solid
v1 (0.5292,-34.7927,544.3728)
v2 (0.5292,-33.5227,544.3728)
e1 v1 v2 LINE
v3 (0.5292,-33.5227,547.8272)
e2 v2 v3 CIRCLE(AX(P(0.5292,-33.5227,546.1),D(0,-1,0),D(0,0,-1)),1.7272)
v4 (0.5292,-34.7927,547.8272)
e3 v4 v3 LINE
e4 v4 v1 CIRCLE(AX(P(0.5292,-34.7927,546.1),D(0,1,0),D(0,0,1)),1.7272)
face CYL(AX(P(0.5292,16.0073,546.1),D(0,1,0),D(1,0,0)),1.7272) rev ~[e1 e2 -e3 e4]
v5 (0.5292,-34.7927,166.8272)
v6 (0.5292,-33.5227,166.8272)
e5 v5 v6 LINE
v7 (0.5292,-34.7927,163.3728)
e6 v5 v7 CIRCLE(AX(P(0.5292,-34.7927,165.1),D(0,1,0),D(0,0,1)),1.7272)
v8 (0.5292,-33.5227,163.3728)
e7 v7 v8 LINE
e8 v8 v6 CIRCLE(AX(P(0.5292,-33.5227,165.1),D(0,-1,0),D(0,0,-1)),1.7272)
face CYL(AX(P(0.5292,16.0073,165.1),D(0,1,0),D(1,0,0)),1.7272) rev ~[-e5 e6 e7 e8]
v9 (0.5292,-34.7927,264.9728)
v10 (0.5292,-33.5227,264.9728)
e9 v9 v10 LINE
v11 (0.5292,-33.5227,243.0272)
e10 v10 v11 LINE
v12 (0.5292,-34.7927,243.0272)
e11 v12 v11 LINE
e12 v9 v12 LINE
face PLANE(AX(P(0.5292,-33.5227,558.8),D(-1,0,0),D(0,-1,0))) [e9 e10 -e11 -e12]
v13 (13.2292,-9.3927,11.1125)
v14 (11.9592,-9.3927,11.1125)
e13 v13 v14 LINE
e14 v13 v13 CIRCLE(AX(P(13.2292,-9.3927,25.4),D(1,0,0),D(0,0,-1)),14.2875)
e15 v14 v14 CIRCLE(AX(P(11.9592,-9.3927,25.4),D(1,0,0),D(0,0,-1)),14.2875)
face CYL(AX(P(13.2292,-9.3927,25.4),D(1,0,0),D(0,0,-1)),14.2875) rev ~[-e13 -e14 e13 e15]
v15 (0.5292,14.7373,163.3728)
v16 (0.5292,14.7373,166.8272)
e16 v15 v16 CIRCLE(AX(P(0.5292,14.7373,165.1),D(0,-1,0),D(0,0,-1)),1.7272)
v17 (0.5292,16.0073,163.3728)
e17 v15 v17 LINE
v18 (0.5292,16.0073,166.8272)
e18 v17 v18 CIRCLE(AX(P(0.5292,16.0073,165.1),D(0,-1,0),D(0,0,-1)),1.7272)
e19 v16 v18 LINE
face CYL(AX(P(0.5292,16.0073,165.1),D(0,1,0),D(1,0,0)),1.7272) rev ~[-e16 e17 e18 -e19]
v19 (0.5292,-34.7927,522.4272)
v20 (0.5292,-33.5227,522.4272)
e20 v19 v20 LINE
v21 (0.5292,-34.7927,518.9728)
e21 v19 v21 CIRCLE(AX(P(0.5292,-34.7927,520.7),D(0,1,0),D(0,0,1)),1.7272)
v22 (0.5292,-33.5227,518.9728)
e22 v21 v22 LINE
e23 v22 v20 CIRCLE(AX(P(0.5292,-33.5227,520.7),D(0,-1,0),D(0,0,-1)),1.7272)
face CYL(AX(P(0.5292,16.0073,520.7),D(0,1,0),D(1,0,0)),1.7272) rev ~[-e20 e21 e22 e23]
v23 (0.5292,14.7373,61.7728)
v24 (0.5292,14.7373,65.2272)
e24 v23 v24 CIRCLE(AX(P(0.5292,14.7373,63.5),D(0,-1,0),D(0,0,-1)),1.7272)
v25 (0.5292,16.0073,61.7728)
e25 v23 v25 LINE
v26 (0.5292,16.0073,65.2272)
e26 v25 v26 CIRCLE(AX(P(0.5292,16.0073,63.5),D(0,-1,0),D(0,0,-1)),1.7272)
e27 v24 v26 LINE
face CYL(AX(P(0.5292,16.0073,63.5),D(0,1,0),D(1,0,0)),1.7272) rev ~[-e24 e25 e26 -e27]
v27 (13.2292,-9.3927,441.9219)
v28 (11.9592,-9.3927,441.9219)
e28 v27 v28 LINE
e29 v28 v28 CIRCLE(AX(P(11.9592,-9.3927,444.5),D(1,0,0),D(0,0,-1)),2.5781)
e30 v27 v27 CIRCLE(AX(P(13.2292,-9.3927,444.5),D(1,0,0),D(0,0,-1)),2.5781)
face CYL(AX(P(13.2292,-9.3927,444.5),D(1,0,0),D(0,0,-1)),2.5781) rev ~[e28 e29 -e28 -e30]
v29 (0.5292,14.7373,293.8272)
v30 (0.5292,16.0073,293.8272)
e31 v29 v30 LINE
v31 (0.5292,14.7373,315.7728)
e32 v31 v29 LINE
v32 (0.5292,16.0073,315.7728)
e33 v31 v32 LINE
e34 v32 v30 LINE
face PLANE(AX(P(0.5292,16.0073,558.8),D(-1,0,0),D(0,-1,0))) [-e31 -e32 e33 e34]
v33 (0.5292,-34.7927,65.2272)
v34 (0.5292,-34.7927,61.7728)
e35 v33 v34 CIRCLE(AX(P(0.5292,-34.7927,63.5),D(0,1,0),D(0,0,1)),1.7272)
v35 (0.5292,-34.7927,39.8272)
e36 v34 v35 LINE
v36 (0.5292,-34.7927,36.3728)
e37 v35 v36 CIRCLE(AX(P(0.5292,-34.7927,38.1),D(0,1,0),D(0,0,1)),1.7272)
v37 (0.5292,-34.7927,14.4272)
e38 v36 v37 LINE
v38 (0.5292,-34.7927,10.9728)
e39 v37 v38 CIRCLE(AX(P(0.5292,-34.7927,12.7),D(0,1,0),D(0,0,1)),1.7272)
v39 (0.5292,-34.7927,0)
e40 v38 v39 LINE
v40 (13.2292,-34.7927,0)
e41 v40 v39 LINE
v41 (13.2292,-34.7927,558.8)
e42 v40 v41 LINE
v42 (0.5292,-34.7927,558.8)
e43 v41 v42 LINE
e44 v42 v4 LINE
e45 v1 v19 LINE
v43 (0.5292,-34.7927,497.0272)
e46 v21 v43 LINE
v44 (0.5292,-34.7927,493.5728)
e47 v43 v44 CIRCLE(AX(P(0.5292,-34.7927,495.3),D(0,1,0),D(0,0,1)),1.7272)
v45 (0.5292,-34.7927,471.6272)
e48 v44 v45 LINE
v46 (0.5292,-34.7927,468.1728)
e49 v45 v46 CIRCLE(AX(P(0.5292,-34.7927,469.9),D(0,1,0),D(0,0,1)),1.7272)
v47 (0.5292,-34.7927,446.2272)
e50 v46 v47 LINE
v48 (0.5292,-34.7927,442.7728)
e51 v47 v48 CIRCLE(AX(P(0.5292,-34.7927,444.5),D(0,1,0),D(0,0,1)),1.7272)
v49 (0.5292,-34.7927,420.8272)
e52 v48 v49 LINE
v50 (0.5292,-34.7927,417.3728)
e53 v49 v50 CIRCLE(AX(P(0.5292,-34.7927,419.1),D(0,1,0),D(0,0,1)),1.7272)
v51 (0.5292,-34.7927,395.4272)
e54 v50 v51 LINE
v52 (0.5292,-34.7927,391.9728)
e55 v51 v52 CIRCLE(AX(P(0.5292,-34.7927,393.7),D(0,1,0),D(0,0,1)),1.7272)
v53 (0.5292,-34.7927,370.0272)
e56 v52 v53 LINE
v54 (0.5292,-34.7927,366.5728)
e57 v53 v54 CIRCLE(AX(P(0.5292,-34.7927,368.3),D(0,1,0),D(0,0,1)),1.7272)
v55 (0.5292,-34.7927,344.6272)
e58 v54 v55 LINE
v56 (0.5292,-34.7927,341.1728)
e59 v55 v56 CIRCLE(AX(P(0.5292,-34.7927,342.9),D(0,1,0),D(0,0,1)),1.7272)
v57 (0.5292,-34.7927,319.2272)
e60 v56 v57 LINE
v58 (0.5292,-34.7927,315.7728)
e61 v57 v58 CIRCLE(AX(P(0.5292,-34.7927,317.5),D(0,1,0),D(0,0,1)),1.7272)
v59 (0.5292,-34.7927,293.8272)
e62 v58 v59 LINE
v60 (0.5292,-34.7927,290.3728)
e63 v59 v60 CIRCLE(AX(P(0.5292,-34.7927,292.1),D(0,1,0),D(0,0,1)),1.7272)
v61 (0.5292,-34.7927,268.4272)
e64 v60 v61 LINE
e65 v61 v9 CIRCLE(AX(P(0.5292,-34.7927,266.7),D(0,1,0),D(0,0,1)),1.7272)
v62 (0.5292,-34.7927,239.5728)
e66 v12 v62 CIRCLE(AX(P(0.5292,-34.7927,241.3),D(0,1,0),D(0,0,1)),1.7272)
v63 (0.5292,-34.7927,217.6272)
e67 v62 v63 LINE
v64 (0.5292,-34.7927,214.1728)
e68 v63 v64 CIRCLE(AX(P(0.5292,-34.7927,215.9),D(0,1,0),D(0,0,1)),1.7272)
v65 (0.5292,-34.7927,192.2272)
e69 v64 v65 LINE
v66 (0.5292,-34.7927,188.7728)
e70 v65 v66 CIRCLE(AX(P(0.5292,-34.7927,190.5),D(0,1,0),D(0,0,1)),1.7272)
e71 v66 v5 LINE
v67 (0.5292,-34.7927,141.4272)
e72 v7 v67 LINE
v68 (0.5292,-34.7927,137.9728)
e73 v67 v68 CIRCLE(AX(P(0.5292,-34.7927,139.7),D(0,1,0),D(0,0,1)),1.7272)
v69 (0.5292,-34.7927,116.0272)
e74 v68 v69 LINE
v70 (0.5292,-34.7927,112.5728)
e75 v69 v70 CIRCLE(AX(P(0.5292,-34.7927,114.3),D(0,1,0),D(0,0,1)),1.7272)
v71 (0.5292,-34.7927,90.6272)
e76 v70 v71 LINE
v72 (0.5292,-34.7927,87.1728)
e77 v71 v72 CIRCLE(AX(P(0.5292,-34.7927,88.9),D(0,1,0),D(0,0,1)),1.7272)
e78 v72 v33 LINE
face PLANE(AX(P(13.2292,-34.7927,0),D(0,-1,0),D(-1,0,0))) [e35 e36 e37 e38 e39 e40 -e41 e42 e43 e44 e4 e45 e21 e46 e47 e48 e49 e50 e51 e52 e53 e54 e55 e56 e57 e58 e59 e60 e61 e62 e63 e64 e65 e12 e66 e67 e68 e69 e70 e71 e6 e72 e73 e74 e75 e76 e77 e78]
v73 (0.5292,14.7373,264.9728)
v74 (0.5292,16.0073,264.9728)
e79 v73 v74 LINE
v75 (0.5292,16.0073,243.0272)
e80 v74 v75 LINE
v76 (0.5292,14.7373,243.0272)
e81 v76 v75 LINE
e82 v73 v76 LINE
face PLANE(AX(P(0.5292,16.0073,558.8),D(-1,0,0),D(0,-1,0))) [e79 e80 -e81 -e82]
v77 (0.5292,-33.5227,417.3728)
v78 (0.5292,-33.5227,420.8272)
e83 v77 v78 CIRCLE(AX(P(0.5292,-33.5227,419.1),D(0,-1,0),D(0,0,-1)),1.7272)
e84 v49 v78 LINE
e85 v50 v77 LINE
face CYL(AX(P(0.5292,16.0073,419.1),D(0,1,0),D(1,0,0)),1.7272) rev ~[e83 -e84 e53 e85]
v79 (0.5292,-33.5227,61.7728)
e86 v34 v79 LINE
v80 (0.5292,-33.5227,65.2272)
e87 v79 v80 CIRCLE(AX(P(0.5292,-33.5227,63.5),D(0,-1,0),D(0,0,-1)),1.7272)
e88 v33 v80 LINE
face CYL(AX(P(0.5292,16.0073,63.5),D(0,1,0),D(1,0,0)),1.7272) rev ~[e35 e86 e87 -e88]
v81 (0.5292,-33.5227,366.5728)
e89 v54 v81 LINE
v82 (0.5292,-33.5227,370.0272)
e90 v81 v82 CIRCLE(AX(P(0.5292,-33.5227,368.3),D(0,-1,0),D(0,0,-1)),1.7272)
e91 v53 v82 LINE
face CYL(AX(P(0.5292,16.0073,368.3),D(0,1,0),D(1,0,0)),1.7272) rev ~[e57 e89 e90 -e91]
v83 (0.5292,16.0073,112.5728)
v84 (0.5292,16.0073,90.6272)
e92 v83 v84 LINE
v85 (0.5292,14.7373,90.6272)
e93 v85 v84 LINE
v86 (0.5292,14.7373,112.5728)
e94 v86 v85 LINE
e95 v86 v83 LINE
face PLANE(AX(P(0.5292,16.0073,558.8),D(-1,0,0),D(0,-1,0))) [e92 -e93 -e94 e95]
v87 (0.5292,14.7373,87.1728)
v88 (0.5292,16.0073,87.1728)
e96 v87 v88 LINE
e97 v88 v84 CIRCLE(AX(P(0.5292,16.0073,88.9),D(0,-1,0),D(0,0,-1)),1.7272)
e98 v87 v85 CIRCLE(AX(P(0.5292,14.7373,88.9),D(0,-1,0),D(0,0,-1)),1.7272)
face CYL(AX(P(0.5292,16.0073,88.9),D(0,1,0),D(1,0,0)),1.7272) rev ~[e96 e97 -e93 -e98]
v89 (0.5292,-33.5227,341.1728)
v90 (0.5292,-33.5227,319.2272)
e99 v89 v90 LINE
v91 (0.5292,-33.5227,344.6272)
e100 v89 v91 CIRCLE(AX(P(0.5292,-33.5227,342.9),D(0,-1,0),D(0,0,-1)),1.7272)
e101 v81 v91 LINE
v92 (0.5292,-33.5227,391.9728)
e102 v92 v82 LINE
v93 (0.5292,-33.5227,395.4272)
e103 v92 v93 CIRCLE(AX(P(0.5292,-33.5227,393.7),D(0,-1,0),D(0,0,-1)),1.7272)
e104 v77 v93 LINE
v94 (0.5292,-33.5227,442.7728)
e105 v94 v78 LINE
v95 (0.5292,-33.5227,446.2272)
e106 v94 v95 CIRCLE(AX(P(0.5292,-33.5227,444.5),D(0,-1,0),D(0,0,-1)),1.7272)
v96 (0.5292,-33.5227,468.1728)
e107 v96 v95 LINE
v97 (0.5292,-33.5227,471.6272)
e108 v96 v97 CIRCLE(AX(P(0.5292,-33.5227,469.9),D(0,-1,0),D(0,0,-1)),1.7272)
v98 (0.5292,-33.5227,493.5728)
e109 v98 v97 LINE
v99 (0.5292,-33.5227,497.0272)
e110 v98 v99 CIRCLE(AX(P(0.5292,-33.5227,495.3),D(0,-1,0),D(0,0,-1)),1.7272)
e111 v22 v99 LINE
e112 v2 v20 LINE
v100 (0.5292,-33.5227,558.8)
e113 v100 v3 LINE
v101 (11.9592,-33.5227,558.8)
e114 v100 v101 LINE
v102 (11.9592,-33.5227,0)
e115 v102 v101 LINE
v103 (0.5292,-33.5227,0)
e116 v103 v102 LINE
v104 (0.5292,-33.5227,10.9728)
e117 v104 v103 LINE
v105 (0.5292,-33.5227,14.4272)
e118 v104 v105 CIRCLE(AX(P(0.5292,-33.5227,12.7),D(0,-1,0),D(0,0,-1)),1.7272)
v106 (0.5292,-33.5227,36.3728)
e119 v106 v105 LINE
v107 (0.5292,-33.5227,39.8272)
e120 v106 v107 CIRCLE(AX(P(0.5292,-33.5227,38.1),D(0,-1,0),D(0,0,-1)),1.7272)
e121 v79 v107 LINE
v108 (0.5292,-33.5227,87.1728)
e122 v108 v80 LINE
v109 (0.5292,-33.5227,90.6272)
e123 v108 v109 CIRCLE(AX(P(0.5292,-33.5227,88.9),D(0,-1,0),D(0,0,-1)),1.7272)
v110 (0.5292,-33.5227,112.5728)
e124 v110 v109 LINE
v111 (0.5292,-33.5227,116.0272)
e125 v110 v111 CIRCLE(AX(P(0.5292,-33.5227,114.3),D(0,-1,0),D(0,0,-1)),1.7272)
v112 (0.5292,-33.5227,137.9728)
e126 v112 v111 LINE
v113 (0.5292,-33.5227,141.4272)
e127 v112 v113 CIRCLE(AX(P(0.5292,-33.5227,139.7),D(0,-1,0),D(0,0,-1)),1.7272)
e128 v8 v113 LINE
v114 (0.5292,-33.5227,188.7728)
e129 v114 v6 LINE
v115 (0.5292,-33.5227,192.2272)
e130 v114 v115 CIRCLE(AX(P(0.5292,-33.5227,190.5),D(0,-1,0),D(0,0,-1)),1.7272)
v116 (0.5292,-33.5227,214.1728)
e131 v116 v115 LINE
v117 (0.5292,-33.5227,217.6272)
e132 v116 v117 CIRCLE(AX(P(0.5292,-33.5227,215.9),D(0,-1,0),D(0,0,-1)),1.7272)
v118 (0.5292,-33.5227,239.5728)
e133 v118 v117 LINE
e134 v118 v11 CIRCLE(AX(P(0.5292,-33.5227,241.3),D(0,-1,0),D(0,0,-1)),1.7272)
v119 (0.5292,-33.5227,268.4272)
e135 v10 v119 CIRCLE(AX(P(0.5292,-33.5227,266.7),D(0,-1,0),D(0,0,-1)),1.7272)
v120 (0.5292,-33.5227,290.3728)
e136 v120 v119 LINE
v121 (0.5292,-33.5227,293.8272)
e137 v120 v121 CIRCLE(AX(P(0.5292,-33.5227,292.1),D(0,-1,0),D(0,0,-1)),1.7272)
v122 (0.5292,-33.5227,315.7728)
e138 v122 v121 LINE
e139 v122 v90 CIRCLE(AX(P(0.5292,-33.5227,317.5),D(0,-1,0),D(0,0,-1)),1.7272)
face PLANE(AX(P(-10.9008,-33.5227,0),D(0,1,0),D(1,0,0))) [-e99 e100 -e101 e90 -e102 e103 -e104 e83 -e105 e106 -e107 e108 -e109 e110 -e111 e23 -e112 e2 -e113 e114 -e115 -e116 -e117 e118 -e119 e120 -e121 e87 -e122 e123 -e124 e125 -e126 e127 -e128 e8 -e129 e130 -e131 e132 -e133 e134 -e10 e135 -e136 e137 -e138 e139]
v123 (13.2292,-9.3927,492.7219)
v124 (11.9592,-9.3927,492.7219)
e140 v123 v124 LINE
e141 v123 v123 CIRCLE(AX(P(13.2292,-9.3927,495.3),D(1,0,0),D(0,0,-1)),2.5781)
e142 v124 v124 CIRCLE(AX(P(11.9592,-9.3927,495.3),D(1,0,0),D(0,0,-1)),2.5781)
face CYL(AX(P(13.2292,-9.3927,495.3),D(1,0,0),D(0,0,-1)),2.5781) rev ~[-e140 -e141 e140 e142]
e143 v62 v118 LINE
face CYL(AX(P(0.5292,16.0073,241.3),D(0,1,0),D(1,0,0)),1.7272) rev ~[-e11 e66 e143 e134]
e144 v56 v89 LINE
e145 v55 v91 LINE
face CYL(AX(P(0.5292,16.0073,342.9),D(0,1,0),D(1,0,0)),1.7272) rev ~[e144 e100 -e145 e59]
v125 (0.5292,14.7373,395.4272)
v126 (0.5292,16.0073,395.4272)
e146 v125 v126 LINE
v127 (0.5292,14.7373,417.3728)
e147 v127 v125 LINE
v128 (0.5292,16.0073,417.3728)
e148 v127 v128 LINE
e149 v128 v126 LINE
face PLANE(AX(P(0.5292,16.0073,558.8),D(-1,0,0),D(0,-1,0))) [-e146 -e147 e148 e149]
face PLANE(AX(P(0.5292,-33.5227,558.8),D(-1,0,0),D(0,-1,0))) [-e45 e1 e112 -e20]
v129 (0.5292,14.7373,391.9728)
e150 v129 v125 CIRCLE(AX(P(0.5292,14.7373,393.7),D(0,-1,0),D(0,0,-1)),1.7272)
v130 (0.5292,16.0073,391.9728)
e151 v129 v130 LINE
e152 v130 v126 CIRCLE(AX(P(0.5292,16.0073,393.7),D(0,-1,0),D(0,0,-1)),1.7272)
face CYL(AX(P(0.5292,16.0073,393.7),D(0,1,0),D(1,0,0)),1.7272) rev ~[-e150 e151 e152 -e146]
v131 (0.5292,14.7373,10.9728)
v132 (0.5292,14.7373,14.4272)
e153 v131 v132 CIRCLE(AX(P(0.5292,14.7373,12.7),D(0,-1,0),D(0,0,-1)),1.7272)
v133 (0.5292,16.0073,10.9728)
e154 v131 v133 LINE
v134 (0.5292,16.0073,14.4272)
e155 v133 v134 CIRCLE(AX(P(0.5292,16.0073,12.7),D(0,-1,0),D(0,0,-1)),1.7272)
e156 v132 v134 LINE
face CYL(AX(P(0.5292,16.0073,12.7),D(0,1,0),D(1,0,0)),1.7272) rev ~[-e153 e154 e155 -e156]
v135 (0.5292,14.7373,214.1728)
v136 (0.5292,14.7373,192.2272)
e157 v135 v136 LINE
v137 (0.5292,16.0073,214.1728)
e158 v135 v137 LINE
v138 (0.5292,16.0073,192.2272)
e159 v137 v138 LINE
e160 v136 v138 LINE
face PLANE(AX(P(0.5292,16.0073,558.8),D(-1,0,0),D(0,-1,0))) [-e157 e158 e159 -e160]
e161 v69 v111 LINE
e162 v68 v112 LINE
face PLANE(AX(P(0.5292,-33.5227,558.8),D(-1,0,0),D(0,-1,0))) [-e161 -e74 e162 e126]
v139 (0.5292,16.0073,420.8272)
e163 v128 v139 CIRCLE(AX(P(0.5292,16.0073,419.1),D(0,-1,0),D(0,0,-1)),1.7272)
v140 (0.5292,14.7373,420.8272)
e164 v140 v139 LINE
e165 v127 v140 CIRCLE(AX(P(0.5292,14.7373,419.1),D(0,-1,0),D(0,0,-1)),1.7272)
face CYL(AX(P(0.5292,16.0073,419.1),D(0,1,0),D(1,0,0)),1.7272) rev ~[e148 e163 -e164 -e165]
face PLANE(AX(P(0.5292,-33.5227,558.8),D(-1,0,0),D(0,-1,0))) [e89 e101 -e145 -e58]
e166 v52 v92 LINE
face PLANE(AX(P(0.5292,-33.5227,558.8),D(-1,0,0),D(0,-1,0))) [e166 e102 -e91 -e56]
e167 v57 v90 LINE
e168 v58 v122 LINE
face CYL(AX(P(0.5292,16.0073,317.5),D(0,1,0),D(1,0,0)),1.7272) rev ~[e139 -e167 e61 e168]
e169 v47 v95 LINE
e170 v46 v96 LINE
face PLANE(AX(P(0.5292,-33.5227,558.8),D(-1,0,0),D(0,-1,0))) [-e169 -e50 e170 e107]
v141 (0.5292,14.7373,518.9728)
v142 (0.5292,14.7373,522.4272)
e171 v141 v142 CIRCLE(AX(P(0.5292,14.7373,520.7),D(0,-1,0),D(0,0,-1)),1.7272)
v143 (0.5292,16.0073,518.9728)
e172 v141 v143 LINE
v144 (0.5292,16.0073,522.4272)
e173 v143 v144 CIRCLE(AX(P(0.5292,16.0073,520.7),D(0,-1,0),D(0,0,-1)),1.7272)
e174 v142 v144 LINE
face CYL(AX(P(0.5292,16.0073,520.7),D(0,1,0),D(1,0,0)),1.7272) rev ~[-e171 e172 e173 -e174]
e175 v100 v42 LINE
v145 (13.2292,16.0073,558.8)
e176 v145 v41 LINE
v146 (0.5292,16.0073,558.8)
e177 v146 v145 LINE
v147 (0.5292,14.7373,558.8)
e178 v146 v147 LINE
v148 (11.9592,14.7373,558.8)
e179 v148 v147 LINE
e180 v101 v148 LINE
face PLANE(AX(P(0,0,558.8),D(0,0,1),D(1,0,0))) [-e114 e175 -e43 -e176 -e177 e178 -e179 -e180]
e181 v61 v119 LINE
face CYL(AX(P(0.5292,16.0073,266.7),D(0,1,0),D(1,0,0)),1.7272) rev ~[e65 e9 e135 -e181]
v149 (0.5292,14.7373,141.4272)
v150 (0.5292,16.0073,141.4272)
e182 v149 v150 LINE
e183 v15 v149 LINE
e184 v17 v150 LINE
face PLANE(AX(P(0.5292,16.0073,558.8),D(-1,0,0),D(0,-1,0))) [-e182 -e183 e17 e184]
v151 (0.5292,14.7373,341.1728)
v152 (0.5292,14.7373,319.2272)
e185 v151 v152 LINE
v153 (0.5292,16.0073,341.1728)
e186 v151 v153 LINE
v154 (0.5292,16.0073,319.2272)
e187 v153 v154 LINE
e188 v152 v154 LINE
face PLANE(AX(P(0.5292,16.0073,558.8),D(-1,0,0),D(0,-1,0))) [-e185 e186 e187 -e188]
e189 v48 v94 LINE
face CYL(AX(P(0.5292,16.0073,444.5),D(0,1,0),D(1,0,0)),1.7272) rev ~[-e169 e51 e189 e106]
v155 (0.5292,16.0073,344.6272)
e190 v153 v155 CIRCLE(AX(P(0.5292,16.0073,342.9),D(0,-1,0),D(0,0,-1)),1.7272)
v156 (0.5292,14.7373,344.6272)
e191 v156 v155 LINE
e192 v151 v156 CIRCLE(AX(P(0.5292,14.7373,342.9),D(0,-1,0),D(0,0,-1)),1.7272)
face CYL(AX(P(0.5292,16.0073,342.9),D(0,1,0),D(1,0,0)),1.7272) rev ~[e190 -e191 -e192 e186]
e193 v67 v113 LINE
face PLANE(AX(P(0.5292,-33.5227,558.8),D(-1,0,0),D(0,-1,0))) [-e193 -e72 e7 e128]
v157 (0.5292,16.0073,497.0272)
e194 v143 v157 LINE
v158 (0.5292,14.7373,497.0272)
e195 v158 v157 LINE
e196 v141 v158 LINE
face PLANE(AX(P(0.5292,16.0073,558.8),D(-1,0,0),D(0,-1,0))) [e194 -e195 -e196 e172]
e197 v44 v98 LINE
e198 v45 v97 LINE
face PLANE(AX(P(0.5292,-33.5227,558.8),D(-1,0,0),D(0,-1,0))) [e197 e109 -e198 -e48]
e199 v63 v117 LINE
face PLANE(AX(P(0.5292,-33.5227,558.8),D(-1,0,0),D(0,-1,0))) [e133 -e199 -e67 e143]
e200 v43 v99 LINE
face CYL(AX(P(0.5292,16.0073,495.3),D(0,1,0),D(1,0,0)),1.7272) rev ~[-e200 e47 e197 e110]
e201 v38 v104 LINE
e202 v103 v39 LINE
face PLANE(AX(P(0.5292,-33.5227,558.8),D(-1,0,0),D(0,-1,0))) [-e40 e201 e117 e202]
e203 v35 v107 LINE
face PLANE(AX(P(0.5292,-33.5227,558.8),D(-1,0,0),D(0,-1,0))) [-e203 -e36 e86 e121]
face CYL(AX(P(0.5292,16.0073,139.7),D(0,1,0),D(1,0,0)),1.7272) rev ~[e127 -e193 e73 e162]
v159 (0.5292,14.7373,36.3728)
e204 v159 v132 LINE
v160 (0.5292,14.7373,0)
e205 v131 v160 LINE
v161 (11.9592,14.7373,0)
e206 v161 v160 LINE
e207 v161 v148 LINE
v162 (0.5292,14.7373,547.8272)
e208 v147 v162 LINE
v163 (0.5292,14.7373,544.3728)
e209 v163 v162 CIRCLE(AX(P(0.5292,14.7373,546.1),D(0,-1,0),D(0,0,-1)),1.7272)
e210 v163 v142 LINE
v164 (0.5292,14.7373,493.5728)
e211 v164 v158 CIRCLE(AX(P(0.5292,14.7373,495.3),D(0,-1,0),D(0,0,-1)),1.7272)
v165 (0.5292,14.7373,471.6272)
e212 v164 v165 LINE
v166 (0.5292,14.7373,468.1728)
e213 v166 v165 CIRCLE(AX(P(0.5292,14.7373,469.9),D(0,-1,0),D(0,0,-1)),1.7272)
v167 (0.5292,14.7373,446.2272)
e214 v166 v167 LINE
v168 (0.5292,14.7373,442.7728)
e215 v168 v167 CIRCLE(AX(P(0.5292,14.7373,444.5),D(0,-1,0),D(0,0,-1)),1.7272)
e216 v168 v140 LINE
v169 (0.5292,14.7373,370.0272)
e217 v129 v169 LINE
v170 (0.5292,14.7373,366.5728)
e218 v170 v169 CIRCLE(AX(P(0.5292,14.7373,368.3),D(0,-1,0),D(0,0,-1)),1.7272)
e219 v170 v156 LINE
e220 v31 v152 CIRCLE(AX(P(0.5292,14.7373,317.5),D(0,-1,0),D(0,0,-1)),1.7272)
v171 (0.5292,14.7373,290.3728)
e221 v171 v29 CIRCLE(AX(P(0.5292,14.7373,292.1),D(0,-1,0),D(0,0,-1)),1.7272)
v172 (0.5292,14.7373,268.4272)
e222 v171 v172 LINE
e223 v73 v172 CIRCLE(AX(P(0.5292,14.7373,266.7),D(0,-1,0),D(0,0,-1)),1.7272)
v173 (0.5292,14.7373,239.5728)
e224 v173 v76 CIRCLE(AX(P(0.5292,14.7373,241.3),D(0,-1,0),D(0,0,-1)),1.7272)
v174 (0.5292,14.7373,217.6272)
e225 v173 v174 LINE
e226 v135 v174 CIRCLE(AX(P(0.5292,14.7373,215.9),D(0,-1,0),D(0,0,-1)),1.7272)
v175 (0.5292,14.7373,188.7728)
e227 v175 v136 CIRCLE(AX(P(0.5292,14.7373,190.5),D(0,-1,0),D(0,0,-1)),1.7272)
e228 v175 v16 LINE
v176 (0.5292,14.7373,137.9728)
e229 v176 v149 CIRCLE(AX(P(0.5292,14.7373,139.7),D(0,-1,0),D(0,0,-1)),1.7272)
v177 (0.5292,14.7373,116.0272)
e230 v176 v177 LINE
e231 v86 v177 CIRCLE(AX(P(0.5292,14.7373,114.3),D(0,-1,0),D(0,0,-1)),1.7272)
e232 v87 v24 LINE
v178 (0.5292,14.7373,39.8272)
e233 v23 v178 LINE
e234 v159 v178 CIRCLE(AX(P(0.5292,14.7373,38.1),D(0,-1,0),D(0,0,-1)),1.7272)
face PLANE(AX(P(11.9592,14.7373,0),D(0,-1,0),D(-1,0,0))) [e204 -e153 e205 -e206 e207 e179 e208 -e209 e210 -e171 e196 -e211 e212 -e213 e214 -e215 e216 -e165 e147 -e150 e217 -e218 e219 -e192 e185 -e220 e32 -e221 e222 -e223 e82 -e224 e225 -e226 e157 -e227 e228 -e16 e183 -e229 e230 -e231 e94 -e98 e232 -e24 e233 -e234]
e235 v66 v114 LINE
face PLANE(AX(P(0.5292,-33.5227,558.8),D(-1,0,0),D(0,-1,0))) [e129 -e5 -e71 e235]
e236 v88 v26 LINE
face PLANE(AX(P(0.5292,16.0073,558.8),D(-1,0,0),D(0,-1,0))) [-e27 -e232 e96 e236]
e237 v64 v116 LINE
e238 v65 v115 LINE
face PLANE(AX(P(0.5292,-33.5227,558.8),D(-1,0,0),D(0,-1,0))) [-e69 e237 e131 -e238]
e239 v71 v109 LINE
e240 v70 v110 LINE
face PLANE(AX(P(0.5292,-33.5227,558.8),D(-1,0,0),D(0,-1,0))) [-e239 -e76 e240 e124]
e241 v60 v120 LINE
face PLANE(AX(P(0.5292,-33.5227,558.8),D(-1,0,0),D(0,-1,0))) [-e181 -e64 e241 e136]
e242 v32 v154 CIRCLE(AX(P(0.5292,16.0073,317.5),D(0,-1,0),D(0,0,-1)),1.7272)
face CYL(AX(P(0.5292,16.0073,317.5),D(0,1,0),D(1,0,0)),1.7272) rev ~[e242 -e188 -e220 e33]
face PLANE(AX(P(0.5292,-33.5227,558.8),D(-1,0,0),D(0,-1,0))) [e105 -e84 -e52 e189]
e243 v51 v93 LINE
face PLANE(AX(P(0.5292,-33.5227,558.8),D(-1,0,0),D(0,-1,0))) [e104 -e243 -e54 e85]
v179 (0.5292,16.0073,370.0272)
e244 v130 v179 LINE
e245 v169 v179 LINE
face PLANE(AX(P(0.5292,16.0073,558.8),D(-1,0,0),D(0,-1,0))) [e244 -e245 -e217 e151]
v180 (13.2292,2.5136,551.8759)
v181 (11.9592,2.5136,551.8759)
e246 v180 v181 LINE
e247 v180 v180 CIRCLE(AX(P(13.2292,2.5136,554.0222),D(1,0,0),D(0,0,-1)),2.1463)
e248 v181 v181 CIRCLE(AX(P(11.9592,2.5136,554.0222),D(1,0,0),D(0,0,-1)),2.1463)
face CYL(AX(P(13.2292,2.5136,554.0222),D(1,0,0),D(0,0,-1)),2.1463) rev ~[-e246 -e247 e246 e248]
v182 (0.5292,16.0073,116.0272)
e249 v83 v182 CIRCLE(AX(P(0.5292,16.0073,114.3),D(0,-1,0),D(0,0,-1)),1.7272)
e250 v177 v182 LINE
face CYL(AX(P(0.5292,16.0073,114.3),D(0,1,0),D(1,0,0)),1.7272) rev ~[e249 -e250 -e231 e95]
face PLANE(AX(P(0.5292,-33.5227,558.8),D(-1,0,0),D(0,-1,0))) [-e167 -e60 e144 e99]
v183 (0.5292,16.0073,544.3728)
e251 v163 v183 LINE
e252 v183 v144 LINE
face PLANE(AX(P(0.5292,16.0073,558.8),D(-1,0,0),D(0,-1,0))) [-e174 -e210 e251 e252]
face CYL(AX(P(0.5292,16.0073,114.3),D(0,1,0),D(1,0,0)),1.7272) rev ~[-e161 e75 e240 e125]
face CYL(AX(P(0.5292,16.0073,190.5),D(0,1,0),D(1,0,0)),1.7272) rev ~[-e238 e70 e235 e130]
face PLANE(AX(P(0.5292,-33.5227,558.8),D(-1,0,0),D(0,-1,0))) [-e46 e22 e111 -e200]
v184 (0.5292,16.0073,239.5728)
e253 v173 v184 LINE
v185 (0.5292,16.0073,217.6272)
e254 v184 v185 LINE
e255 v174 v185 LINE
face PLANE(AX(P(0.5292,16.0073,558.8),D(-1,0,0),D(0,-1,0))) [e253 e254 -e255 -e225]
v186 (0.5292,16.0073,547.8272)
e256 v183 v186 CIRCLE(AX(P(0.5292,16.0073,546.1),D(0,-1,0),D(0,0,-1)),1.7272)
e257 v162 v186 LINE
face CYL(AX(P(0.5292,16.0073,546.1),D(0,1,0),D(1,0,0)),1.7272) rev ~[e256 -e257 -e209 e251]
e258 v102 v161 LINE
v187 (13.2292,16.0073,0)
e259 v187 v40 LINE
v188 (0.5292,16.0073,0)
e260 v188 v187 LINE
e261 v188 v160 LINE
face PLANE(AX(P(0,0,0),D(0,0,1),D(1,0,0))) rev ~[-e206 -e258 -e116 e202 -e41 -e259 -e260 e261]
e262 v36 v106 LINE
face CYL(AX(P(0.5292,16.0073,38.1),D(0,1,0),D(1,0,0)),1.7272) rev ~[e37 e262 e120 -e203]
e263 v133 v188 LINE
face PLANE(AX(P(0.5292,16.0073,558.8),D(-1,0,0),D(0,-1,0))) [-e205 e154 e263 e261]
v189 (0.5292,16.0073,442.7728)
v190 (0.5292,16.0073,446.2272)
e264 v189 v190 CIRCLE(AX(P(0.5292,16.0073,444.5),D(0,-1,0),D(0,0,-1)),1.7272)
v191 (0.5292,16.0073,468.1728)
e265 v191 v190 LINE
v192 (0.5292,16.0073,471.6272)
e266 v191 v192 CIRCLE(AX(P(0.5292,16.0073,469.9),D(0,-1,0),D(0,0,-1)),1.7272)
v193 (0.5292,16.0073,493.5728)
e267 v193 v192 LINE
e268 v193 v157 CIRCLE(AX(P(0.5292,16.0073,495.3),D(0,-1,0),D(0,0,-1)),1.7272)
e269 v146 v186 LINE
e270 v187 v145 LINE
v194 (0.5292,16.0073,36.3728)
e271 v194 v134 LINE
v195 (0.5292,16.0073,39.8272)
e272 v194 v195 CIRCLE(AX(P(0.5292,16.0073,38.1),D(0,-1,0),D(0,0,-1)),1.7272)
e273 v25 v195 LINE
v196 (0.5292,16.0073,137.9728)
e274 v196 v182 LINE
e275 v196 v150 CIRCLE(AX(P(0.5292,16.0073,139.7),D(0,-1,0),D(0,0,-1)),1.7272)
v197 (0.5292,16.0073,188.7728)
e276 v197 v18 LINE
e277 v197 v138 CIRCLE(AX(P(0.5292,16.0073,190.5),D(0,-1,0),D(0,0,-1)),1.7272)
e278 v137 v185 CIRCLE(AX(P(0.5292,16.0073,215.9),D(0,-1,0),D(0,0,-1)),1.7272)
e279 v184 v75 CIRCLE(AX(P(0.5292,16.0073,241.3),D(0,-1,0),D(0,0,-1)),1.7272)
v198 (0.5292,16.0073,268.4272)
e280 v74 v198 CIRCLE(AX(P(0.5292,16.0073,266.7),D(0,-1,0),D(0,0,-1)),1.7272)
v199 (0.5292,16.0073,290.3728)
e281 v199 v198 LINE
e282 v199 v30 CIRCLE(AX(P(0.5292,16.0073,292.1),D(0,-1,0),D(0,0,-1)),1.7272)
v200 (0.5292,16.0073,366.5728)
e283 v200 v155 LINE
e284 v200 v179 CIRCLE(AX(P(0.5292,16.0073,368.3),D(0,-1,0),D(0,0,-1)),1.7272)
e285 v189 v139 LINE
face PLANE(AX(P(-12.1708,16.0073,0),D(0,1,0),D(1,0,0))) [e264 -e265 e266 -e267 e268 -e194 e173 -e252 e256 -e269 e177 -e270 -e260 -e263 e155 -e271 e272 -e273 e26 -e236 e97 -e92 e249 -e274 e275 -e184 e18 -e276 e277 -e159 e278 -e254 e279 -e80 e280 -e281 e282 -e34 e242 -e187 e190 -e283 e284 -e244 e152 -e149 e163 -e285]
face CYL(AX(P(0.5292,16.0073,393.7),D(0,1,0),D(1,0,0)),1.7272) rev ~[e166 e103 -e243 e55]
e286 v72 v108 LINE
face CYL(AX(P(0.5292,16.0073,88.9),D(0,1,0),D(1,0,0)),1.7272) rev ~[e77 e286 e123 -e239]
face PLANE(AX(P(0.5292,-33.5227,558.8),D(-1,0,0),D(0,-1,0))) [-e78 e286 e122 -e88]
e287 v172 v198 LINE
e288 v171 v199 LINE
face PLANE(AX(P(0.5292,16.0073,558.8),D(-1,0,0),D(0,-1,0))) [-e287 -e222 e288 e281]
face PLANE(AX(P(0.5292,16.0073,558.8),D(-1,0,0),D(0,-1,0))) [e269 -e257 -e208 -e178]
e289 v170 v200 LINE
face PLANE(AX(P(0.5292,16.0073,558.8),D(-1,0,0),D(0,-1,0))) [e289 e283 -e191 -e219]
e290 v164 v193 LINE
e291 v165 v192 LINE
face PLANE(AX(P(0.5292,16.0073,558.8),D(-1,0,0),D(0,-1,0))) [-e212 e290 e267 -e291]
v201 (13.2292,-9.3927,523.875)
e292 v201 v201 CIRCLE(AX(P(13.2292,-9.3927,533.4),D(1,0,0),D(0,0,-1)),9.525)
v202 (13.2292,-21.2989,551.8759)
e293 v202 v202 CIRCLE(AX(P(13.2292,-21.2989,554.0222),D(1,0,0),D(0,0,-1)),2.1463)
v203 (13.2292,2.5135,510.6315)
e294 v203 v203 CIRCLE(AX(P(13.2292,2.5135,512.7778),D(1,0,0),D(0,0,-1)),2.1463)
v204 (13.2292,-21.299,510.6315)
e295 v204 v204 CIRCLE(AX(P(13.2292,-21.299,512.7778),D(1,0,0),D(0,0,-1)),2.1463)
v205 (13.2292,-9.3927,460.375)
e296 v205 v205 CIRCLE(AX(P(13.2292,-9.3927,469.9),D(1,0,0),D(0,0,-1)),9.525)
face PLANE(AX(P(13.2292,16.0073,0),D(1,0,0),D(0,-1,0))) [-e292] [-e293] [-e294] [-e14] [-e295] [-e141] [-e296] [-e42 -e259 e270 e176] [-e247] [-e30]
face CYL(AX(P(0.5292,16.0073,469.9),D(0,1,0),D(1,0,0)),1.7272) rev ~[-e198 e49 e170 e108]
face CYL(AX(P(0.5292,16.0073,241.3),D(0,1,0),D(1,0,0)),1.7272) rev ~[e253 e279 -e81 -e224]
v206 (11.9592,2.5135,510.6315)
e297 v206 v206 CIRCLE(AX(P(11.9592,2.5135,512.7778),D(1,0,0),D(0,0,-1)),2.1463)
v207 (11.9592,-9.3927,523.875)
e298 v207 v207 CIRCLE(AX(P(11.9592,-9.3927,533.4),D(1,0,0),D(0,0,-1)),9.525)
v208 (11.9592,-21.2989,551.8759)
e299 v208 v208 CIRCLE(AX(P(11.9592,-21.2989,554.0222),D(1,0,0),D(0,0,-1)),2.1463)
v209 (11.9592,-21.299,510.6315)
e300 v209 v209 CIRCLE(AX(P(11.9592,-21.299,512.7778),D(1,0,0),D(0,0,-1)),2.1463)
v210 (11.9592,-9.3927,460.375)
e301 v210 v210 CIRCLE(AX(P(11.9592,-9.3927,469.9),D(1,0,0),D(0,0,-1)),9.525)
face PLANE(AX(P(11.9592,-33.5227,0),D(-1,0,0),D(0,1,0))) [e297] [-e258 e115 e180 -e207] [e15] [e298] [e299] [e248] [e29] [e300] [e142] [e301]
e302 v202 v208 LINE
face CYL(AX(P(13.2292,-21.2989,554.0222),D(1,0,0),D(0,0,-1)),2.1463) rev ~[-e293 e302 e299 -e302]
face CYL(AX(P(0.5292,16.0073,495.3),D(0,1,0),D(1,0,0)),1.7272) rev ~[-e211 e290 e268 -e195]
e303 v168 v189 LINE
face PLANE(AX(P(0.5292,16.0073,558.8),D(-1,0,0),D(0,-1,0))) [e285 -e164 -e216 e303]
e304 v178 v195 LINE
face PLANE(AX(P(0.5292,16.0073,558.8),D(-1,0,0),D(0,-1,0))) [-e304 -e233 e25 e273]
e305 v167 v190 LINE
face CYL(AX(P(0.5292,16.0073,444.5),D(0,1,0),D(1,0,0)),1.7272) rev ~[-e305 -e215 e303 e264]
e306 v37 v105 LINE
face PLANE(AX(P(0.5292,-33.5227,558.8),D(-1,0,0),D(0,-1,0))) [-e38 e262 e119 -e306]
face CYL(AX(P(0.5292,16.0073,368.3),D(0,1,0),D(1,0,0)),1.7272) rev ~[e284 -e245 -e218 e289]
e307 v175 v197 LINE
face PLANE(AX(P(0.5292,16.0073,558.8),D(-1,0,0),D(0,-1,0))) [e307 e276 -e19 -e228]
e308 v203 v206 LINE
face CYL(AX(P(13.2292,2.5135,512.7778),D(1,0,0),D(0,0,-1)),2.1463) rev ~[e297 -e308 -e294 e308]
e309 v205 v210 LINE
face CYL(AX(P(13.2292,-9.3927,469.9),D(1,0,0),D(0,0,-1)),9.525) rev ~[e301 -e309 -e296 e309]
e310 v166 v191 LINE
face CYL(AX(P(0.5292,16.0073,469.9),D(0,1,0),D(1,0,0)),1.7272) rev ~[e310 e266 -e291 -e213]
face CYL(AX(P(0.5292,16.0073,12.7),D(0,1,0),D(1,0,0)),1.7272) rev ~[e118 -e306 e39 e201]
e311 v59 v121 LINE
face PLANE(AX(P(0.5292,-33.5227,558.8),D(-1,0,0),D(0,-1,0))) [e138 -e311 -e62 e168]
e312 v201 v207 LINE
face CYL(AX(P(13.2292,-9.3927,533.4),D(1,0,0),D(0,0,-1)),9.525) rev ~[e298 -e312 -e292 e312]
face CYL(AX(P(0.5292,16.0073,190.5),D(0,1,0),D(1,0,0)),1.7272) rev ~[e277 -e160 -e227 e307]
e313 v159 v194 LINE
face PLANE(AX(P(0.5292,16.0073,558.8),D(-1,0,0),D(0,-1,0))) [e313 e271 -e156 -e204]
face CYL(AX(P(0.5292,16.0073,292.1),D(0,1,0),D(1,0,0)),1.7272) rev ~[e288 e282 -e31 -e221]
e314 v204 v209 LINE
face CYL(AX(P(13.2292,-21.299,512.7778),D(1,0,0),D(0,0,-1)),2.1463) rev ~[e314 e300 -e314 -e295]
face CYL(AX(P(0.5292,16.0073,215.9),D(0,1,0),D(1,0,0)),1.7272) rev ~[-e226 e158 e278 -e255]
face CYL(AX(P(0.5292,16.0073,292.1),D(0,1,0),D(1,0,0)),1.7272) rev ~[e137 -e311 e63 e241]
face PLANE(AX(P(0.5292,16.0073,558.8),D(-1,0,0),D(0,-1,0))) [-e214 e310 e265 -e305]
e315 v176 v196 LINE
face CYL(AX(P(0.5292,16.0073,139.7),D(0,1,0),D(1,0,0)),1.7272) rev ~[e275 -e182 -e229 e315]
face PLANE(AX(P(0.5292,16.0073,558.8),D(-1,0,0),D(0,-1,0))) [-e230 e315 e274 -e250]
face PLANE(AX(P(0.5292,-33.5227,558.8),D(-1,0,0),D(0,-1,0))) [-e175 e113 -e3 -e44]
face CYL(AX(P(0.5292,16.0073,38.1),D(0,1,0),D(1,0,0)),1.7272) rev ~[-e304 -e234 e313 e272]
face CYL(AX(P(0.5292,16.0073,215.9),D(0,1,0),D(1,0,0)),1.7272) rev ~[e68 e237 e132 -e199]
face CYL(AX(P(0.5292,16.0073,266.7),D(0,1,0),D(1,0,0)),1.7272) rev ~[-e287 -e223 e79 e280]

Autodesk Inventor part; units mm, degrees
ref_plane "YZ Plane" through (0, 0, 0) normal (1, 0, 0) x (0, 1, 0)
ref_plane "XZ Plane" through (0, 0, 0) normal (0, 1, 0) x (-1, 0, 0)
ref_plane "XY Plane" through (0, 0, 0) normal (0, 0, 1) x (1, 0, 0)
sketch "Sketch1" plane through (0, 0, 0) normal (0, 0, 1) x (1, 0, 0)
  line L0 (-12.1708, 16.0073) -> (13.2292, 16.0073)
  line L1 (13.2292, 16.0073) -> (13.2292, -34.7927)
  line L2 (13.2292, -34.7927) -> (-12.1708, -34.7927)
  line L3 (-12.1708, -34.7927) -> (-12.1708, 16.0073)
  line L4 (11.9592, 14.7373) -> (-10.9008, 14.7373)
  line L5 (-10.9008, 14.7373) -> (-10.9008, -33.5227)
  line L6 (-10.9008, -33.5227) -> (11.9592, -33.5227)
  line L7 (11.9592, -33.5227) -> (11.9592, 14.7373)
  point P0 (0, 0)
  dimension "d0" = 25.4
  dimension "d1" = 50.8
  dimension "d2" = 1.27
extrude "Extrusion1" add sketch "Sketch1" along normal blind 558.8
sketch "Sketch2" plane through (-12.1708, 16.0073, 0) normal (0, 1, 0) x (1, 0, 0)
  circle A0 centre (12.7, -12.7) radius 1.7272
  line L0 (25.4, 0) -> (0, 0) projected
  line L1 (0, 0) -> (0, -558.8) projected
  point P0 (12.1708, 0)
  dimension "d5" = 3.4544
  dimension "d6" = 12.7
  dimension "d7" = 12.7
extrude "Extrusion2" cut sketch "Sketch2" against normal through all
pattern_linear "Rectangular Pattern1" count 56 spacing 25.4 along (0, 0, 1) of "Extrusion2"
sketch "Sketch3" plane through (0, 0, 558.8) normal (0, 0, 1) x (1, 0, 0)
  line L0 (-12.1708, 16.0073) -> (-12.1708, -34.7927) projected
  line L1 (-12.1708, -34.7927) -> (13.2292, -34.7927) projected
  line L2 (-12.1708, 16.0073) -> (0.5292, 16.0073)
  line L3 (0.5292, 16.0073) -> (0.5292, -34.7927)
  line L4 (0.5292, -34.7927) -> (-12.1708, -34.7927)
  line L5 (-12.1708, -34.7927) -> (-12.1708, 16.0073)
  line L6 (11.9592, -33.5227) -> (-10.9008, -33.5227) projected
  line L7 (-10.9008, -33.5227) -> (-10.9008, 14.7373) projected
  line L8 (0.5292, -33.5227) -> (-10.9008, -33.5227)
  line L9 (-10.9008, -33.5227) -> (-10.9008, 14.7373)
  line L10 (-10.9008, 14.7373) -> (0.5292, 14.7373)
  line L11 (0.5292, 14.7373) -> (0.5292, -33.5227)
  point P0 (0, 0)
  point P1 (0.5292, -33.5227)
  dimension "d15" = 12.7
extrude "Extrusion3" cut sketch "Sketch3" against normal blind 558.8 contours L2 L3 L10 L7 L6 L1 L0
sketch "Sketch4" plane through (13.2292, -34.7927, 0) normal (1, 0, 0) x (0, 0, -1)
  line L0 (-558.8, 0) -> (-558.8, 50.8) projected
  line L1 (-558.8, 25.4) -> (0, 25.4) construction
  line L2 (0, 0) -> (0, 50.8) projected
  circle A0 centre (-533.4, 25.4) radius 9.525
  circle A1 centre (-469.9, 25.4) radius 9.525
  circle A2 centre (-495.3, 25.4) radius 2.5781
  circle A3 centre (-444.5, 25.4) radius 2.5781
  circle A4 centre (-469.9, 25.4) radius 25.4 construction
  circle A5 centre (-25.4, 25.4) radius 14.2875
  line L3 (-554.0222, 13.4938) -> (-512.7778, 13.4938) construction
  line L4 (-512.7778, 13.4938) -> (-512.7778, 37.3062) construction
  line L5 (-512.7778, 37.3062) -> (-554.0222, 37.3062) construction
  line L6 (-554.0222, 37.3062) -> (-554.0222, 13.4938) construction
  line L7 (-554.0222, 13.4938) -> (-512.7778, 37.3062) construction
  line L8 (-512.7778, 13.4938) -> (-554.0222, 37.3062) construction
  point P0 (0, 34.7927)
  dimension "d18" = 28.575
  dimension "d19" = 50.8
  dimension "d20" = 5.1562
  dimension "d21" = 19.05
  dimension "d22" = 25.4
  dimension "d23" = 25.4
  dimension "d24" = 19.05
  dimension "d25" = 63.5
  dimension "d26" = 47.625
  dimension "d27" = 60
extrude "Extrusion4" cut sketch "Sketch4" against normal through all
sketch "Sketch5" plane through (13.2292, -34.7927, 0) normal (1, 0, 0) x (0, 0, -1)
  circle A0 centre (-533.4, 25.4) radius 9.525 projected
  circle A1 centre (-533.4, 25.4) radius 23.8125 construction
  line L0 (-554.0222, 37.3063) -> (-512.7778, 13.4937) construction
  line L1 (-554.0222, 13.4938) -> (-512.7778, 37.3062) construction
  line L2 (0, 0) -> (-558.8, 0) projected
  circle A2 centre (-554.0222, 37.3063) radius 2.1463
  circle A3 centre (-512.7778, 37.3062) radius 2.1463
  circle A4 centre (-512.7778, 13.4937) radius 2.1463
  circle A5 centre (-554.0222, 13.4938) radius 2.1463
  point P0 (0, 34.7927)
  dimension "d30" = 47.625
  dimension "d31" = 60
  dimension "d32" = 30
  dimension "d33" = 4.2926
extrude "Extrusion5" cut sketch "Sketch5" against normal through all contours A2 | A3 | A4 | A5
equation "\"d3\" = d13"
equation "\"d16\" = d13"
equation "\"d14\" = d13"
equation "\"d10\" = d14"
equation "\"d13\" = 558.8"
properties part number "VerseFrame 18in C Channel"
